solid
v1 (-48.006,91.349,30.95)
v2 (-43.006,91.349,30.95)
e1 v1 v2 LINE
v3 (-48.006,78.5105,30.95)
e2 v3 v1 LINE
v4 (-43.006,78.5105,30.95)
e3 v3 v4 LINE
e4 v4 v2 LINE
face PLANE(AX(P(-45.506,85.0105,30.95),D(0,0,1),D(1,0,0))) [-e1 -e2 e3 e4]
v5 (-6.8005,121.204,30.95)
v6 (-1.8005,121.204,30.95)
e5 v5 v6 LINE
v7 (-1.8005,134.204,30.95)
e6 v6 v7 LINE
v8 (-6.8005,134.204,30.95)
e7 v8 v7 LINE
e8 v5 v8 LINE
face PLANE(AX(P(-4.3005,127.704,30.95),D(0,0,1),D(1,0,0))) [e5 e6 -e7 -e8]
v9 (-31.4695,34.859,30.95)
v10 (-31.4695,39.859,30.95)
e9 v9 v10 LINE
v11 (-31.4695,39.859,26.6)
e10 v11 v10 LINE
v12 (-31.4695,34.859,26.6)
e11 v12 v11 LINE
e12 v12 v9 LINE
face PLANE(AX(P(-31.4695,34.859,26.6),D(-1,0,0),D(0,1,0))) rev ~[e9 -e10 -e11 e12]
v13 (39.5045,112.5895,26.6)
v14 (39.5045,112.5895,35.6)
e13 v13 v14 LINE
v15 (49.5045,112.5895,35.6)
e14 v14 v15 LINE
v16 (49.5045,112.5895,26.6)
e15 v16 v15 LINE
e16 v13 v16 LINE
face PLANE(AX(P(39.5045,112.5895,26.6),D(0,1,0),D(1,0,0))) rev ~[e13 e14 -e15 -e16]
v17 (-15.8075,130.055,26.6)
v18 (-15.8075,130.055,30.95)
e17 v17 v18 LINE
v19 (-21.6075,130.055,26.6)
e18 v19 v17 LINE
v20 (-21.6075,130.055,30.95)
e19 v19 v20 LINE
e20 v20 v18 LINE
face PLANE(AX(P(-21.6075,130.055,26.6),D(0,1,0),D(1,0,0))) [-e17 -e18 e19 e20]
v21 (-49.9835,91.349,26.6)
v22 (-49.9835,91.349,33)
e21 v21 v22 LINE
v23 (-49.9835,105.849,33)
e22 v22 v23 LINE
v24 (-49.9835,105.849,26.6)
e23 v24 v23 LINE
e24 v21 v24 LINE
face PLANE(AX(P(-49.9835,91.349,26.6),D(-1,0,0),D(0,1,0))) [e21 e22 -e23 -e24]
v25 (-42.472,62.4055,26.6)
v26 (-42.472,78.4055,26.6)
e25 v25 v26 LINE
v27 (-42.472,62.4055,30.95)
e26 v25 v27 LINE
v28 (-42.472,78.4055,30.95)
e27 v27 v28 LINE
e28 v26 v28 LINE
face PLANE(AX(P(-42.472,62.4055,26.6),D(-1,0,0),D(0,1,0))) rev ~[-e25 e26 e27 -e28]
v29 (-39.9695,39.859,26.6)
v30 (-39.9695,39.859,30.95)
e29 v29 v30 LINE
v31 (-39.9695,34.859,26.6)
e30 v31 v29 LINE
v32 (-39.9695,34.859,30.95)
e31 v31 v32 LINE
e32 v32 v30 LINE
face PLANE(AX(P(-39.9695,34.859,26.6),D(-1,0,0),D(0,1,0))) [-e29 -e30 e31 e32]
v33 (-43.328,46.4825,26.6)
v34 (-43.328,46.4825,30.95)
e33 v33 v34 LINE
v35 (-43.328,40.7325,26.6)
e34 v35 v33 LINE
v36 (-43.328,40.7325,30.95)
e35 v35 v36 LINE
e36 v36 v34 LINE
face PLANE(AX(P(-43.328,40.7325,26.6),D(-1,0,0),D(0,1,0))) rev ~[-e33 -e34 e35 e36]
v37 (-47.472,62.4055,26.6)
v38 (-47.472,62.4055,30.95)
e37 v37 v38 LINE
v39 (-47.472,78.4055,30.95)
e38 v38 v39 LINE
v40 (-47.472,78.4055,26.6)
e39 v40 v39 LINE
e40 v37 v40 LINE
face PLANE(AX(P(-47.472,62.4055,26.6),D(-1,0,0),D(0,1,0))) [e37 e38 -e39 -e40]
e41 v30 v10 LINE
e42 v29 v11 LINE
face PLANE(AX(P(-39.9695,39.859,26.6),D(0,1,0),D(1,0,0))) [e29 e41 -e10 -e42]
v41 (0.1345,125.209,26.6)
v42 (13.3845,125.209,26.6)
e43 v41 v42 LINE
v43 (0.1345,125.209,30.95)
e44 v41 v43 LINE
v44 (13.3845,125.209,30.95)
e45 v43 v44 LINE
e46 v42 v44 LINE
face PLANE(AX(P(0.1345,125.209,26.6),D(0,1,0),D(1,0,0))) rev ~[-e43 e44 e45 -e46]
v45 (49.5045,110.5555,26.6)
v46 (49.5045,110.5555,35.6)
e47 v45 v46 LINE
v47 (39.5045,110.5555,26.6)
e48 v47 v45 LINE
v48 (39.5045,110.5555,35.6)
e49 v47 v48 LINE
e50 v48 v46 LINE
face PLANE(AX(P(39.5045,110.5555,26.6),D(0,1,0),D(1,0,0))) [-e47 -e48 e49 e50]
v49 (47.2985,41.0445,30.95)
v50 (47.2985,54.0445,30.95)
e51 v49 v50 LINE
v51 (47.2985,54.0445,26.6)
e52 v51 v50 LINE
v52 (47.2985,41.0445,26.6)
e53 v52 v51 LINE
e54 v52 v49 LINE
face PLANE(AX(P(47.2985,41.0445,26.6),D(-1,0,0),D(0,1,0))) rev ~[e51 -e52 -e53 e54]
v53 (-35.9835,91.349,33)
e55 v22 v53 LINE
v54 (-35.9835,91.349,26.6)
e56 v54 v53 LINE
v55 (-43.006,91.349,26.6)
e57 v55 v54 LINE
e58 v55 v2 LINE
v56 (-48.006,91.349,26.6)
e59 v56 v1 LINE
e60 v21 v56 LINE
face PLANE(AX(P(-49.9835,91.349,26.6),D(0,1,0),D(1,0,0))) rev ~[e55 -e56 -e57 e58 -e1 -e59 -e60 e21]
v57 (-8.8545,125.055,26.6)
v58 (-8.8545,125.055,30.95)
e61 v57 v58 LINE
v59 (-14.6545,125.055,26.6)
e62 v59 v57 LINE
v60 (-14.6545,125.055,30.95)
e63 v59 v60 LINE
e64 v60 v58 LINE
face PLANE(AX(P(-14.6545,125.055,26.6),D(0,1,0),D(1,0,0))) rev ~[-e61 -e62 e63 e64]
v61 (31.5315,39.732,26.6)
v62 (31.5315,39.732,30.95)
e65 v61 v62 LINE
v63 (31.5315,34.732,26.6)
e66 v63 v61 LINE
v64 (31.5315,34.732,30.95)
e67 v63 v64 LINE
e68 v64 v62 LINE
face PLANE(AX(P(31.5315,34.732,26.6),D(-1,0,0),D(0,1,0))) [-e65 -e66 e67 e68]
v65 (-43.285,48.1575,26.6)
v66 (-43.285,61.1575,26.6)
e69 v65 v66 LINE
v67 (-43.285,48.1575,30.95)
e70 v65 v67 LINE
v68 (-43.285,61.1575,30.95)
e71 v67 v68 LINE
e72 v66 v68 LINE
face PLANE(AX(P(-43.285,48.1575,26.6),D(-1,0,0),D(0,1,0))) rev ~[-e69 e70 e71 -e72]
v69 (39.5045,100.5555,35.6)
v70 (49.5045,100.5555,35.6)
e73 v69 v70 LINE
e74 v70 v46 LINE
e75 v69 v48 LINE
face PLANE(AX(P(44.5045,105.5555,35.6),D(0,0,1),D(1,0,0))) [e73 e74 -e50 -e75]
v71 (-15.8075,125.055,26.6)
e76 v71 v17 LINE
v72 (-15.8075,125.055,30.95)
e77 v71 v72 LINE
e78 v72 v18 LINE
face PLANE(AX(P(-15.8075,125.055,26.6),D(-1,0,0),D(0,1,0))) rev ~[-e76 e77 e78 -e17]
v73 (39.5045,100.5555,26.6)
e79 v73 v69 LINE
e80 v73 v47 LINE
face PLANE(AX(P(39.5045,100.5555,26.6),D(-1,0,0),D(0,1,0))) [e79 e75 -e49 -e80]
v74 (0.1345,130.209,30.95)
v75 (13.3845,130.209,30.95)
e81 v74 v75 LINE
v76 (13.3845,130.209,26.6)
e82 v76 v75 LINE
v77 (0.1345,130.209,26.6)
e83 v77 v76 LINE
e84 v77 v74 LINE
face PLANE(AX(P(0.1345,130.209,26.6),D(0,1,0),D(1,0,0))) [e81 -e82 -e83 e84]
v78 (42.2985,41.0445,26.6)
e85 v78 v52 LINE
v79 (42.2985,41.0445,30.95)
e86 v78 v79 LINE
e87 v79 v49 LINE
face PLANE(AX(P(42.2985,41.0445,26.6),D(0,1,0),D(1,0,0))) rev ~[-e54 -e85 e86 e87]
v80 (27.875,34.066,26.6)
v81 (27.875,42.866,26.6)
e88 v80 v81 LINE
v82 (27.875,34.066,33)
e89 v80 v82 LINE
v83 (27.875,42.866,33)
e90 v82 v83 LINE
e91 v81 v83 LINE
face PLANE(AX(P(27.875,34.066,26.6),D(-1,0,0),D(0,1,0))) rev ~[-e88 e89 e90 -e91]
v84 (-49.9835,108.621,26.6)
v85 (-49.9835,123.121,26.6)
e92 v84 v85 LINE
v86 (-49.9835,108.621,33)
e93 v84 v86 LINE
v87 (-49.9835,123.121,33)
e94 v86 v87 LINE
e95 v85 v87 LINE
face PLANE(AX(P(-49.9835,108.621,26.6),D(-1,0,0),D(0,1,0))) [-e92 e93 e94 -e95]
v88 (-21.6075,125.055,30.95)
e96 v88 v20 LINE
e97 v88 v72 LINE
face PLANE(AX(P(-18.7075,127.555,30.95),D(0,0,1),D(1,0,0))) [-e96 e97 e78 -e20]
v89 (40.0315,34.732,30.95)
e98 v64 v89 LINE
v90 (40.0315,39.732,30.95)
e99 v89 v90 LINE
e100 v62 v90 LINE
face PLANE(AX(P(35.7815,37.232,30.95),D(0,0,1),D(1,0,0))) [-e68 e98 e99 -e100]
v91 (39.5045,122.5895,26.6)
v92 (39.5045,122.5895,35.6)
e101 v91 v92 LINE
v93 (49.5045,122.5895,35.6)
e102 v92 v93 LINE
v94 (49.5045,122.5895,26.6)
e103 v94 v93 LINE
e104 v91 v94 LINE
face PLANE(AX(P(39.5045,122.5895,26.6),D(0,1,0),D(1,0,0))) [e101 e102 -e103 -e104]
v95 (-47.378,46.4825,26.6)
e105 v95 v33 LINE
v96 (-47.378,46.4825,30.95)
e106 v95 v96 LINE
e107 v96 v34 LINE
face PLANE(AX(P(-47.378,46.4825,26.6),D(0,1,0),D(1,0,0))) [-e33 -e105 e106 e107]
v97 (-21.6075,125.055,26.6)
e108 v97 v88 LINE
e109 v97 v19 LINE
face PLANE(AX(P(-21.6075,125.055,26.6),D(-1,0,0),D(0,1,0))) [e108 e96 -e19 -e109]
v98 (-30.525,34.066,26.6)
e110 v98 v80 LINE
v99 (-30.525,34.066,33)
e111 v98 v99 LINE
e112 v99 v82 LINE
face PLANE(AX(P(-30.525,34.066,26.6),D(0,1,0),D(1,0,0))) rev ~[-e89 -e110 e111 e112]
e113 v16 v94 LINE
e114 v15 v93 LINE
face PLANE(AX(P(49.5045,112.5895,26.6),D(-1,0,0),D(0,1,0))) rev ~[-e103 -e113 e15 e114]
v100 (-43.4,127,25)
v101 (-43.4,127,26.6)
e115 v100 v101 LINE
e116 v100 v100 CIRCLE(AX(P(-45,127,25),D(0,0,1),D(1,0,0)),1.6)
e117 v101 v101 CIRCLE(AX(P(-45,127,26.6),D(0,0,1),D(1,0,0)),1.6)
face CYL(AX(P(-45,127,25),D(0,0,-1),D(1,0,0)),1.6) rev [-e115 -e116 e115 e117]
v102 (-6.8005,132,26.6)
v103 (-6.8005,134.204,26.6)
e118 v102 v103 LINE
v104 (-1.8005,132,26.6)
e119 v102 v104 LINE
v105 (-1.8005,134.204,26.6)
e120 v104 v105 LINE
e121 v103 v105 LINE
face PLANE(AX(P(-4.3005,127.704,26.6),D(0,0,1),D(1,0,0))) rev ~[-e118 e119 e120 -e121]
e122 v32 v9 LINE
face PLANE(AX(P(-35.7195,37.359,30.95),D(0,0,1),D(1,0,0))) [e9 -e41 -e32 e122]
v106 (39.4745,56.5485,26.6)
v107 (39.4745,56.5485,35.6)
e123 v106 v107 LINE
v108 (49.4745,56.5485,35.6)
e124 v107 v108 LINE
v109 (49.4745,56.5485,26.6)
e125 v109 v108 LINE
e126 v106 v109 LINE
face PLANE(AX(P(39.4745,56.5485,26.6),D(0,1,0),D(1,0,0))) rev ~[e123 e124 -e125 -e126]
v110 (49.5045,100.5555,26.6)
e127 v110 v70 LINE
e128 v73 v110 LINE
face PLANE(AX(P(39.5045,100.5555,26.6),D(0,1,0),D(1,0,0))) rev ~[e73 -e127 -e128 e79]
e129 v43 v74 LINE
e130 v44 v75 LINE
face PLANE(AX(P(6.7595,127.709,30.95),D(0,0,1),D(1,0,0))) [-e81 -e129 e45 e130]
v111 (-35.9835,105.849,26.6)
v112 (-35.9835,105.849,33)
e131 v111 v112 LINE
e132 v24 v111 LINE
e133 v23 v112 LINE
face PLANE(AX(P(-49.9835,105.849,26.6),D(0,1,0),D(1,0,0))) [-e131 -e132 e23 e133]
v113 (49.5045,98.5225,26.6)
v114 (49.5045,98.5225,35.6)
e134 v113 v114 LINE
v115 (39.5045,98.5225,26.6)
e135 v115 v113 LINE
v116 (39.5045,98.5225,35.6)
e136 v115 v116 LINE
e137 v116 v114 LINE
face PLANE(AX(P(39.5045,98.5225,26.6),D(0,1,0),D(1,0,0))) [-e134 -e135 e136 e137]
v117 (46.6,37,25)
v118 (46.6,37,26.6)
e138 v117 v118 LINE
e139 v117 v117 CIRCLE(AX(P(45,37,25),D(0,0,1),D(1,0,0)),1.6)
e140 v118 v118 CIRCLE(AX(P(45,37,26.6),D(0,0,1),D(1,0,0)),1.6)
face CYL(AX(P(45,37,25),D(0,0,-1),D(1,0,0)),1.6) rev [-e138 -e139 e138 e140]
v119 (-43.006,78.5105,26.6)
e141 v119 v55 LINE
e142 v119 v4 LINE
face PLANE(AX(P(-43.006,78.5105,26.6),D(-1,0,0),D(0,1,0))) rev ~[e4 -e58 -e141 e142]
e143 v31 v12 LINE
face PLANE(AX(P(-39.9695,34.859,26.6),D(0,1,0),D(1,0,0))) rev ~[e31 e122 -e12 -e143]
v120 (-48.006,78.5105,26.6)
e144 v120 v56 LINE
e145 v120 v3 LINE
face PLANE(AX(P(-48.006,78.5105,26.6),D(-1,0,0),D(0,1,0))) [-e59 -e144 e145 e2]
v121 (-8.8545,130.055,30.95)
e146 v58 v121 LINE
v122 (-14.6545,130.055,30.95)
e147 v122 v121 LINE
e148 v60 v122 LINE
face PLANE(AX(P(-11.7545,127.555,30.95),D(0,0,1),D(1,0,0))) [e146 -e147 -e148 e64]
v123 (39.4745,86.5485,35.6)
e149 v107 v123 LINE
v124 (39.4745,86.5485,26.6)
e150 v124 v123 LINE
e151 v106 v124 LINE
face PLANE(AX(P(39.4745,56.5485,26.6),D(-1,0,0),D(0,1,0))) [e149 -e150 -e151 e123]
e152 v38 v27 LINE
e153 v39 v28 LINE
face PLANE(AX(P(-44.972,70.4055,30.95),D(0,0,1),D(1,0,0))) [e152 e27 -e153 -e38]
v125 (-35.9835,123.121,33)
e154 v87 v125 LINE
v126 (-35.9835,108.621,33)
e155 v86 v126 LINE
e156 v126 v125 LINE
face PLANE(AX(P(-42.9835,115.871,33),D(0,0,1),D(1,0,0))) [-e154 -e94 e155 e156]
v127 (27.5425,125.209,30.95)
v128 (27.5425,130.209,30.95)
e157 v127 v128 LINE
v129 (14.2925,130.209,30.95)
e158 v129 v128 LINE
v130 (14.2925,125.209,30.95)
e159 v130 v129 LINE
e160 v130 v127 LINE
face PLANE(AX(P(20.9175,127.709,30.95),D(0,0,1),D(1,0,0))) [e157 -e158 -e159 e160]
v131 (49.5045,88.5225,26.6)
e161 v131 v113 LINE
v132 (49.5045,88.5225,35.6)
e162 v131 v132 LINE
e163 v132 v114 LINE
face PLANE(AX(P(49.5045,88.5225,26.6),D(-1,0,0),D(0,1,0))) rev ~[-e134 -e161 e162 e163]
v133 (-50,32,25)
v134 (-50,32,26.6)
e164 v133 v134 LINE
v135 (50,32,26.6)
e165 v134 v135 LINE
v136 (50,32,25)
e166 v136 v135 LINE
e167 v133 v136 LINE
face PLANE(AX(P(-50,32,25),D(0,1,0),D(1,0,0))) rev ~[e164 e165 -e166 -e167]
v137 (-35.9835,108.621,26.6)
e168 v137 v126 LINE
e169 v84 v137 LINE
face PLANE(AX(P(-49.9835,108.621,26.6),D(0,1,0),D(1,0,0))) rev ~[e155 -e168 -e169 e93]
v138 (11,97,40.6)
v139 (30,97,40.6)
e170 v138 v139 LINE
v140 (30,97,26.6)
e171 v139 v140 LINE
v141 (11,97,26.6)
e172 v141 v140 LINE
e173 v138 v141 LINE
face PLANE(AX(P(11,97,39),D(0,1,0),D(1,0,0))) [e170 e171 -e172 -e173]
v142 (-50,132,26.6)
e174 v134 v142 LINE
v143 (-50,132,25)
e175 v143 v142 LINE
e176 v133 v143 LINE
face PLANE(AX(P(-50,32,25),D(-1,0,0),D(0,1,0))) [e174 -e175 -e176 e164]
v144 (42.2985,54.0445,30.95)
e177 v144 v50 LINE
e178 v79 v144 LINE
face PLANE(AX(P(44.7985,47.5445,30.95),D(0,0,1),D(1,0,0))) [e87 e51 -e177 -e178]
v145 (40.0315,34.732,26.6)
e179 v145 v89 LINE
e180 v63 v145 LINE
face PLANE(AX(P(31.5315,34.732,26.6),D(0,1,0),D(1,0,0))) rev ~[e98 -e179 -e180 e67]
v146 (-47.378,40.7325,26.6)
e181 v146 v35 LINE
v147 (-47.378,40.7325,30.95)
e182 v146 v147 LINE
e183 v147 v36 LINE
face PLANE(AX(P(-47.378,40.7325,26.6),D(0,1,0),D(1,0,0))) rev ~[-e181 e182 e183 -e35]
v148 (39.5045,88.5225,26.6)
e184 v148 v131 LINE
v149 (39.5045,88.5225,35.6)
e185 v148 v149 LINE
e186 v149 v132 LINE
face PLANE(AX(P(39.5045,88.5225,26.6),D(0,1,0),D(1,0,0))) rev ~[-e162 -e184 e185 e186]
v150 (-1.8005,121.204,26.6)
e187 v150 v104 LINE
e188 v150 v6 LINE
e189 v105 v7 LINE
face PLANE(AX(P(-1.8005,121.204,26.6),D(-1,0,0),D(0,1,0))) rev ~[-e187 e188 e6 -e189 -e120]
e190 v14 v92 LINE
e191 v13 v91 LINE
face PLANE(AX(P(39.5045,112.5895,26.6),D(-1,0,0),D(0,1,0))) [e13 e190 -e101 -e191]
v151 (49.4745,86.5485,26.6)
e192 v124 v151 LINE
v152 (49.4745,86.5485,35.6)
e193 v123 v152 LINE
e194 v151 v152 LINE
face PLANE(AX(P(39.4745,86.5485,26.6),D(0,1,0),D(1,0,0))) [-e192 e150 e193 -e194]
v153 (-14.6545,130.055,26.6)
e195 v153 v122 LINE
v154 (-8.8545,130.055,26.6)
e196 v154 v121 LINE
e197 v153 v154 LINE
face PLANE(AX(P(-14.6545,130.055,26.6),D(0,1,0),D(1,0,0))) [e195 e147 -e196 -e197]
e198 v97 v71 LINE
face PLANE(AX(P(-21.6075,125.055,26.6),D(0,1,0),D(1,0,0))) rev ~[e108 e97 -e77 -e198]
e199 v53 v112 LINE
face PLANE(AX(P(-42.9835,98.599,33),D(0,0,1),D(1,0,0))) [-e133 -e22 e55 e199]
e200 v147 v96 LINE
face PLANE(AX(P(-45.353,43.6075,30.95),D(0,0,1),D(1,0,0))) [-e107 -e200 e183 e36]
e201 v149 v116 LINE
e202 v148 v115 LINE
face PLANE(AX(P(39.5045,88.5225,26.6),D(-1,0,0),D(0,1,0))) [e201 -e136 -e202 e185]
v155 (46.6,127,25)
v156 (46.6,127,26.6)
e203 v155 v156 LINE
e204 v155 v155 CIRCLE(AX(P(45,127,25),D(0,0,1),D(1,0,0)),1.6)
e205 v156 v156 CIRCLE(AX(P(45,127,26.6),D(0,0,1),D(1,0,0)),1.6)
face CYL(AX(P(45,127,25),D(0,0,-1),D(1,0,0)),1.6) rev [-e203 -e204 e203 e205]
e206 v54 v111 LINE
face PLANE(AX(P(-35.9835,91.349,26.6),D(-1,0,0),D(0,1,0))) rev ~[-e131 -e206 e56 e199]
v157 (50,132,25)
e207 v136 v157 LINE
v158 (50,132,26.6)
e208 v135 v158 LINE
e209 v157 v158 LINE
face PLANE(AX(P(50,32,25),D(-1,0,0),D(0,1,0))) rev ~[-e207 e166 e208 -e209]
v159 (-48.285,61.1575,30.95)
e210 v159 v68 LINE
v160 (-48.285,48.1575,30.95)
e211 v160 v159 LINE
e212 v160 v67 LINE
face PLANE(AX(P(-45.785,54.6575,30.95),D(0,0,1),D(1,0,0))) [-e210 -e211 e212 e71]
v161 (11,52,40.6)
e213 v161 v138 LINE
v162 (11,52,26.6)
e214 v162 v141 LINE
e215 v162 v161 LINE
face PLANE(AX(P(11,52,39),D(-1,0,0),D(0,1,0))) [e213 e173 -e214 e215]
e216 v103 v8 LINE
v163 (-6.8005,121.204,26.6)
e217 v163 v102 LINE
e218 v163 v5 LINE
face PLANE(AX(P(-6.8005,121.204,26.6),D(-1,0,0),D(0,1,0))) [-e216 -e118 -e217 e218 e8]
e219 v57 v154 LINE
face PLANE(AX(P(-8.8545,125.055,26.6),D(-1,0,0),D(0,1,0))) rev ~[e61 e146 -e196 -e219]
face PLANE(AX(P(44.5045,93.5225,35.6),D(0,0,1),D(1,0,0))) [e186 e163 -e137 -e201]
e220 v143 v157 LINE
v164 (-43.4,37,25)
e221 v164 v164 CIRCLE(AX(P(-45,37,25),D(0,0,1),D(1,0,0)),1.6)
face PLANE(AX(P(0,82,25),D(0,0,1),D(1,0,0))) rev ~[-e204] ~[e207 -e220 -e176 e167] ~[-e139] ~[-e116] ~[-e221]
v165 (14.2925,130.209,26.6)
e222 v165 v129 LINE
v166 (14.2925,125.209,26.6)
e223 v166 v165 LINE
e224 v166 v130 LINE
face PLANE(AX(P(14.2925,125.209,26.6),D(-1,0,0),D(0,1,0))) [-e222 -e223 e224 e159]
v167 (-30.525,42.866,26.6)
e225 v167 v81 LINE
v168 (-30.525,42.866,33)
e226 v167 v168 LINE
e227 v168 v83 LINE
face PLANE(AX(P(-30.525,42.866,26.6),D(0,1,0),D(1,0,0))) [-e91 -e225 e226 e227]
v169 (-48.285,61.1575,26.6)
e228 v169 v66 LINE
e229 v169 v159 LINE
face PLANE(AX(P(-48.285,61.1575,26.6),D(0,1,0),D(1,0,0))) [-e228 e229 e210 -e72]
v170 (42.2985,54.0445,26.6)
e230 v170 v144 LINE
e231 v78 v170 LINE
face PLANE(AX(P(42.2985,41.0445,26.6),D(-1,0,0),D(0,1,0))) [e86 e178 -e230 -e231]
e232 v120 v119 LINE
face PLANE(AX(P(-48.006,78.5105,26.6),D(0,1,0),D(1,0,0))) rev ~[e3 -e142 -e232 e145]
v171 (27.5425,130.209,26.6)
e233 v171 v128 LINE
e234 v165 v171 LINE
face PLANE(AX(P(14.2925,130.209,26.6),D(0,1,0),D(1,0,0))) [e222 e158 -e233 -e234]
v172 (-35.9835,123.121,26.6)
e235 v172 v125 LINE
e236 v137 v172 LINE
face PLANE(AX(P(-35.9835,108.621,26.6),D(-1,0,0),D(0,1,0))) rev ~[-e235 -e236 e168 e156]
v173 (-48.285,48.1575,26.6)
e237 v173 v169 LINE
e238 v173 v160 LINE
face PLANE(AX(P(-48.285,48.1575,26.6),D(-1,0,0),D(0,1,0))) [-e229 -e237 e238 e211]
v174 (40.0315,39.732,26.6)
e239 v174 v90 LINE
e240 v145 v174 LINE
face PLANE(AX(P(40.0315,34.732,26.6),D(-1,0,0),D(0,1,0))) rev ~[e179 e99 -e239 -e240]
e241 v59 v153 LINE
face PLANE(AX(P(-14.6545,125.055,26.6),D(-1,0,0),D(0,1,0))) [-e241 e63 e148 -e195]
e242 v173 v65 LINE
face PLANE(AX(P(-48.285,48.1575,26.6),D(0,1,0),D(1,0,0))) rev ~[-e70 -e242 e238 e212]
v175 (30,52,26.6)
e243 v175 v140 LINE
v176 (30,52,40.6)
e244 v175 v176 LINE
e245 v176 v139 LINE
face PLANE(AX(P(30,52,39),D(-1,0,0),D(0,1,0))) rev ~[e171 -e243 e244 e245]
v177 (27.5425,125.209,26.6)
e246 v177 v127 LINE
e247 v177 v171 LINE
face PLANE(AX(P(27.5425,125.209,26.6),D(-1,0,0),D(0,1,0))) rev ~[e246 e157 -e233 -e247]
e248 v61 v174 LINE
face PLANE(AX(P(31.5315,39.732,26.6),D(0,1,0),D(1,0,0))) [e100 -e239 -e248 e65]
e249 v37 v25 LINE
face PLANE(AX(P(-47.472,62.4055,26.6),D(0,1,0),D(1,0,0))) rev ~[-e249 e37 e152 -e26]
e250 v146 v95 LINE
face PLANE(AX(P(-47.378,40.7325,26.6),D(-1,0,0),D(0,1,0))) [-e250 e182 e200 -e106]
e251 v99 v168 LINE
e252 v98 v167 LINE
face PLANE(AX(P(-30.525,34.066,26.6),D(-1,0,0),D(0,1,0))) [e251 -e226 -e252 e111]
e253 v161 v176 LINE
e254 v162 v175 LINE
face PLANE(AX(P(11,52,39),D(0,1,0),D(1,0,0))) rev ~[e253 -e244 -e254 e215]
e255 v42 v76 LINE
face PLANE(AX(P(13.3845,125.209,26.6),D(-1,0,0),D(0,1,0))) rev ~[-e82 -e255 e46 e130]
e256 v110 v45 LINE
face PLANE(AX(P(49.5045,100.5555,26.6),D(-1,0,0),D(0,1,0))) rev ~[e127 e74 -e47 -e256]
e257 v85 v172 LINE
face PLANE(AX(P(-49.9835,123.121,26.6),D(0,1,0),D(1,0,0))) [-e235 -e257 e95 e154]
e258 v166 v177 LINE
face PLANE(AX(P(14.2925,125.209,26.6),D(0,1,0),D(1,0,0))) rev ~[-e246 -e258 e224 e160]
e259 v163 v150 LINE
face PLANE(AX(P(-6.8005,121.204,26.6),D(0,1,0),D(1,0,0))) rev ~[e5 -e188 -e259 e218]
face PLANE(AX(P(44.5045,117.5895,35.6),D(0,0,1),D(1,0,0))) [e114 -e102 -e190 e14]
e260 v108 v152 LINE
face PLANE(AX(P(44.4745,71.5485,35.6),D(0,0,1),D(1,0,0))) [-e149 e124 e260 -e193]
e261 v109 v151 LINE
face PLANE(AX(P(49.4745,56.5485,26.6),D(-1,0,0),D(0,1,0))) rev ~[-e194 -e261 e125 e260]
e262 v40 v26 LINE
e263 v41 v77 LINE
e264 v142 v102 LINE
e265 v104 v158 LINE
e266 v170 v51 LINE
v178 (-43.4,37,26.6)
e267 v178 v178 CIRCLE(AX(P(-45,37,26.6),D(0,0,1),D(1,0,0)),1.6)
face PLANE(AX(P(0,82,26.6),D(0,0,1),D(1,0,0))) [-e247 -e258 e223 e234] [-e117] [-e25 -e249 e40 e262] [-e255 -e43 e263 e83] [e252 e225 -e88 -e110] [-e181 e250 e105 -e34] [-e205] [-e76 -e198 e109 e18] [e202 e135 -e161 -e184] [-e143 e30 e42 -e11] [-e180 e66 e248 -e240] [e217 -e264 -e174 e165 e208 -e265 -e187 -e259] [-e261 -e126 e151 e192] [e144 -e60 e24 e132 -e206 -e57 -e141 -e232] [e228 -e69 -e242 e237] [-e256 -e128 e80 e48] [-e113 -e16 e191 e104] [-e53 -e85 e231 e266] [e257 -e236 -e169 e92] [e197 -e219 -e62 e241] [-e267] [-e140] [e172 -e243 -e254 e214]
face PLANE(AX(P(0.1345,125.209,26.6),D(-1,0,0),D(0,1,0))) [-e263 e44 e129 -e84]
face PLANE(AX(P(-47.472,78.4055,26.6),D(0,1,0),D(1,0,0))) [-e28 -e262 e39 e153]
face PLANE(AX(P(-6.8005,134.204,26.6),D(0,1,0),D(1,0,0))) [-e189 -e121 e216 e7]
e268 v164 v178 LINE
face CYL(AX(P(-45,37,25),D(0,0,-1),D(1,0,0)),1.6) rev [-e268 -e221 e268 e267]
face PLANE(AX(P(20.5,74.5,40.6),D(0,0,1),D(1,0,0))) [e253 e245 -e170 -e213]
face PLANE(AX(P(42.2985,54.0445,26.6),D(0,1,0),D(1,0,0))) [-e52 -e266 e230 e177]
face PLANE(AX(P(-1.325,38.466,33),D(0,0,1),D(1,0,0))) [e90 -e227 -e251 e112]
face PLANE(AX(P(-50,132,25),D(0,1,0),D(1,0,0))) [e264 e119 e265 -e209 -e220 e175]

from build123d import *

# Parameters (mm, degrees)
F_100X100_ROTATED_J101_REAR_J801_FRONT_START = 25
SKETCH_1_W                                   = 100
SKETCH_1_H                                   = 100
SKETCH_1_R                                   = 1.6
F_100X100_ROTATED_J101_REAR_J801_FRONT_DEPTH = 1.6
J102_CONNECTOR_ENVELOPE_ROTATED_START        = 26.6
SKETCH_2_W                                   = 10
SKETCH_2_H                                   = 10
J102_CONNECTOR_ENVELOPE_ROTATED_DEPTH        = 9
J201_CONNECTOR_ENVELOPE_ROTATED_START        = 26.6
SKETCH_3_W                                   = 14
SKETCH_3_H                                   = 14.5
J201_CONNECTOR_ENVELOPE_ROTATED_DEPTH        = 6.4
J501_CONNECTOR_ENVELOPE_ROTATED_START        = 26.6
SKETCH_4_W                                   = 14
SKETCH_4_H                                   = 14.5
J501_CONNECTOR_ENVELOPE_ROTATED_DEPTH        = 6.4
J301_CONNECTOR_ENVELOPE_ROTATED_START        = 26.6
SKETCH_5_W                                   = 10
SKETCH_5_H                                   = 10
J301_CONNECTOR_ENVELOPE_ROTATED_DEPTH        = 9
J304_CONNECTOR_ENVELOPE_ROTATED_START        = 26.6
SKETCH_6_W                                   = 10
SKETCH_6_H                                   = 10
J304_CONNECTOR_ENVELOPE_ROTATED_DEPTH        = 9
J302_CONNECTOR_ENVELOPE_ROTATED_START        = 26.6
SKETCH_7_W                                   = 10
SKETCH_7_H                                   = 30
J302_CONNECTOR_ENVELOPE_ROTATED_DEPTH        = 9
J305_CONNECTOR_ENVELOPE_ROTATED_START        = 26.6
SKETCH_8_W                                   = 5.8
SKETCH_8_H                                   = 5
J305_CONNECTOR_ENVELOPE_ROTATED_DEPTH        = 4.35
J306_CONNECTOR_ENVELOPE_ROTATED_START        = 26.6
SKETCH_9_W                                   = 5.8
SKETCH_9_H                                   = 5
J306_CONNECTOR_ENVELOPE_ROTATED_DEPTH        = 4.35
J401_CONNECTOR_ENVELOPE_ROTATED_START        = 26.6
SKETCH_10_W                                  = 5
SKETCH_10_H                                  = 13
J401_CONNECTOR_ENVELOPE_ROTATED_DEPTH        = 4.35
J502_CONNECTOR_ENVELOPE_ROTATED_START        = 26.6
SKETCH_11_W                                  = 5
SKETCH_11_H                                  = 16
J502_CONNECTOR_ENVELOPE_ROTATED_DEPTH        = 4.35
J602_CONNECTOR_ENVELOPE_ROTATED_START        = 26.6
SKETCH_13_W                                  = 5
SKETCH_13_H                                  = 13
J602_CONNECTOR_ENVELOPE_ROTATED_DEPTH        = 4.35
J701_CONNECTOR_ENVELOPE_ROTATED_START        = 26.6
SKETCH_14_W                                  = 5
SKETCH_14_H                                  = 13
J701_CONNECTOR_ENVELOPE_ROTATED_DEPTH        = 4.35
J702_CONNECTOR_ENVELOPE_ROTATED_START        = 26.6
SKETCH_15_W                                  = 13.25
SKETCH_15_H                                  = 5
J702_CONNECTOR_ENVELOPE_ROTATED_DEPTH        = 4.35
J703_CONNECTOR_ENVELOPE_ROTATED_START        = 26.6
SKETCH_16_W                                  = 13.25
SKETCH_16_H                                  = 5
J703_CONNECTOR_ENVELOPE_ROTATED_DEPTH        = 4.35
J704_CONNECTOR_ENVELOPE_ROTATED_START        = 26.6
SKETCH_17_W                                  = 8.5
SKETCH_17_H                                  = 5
J704_CONNECTOR_ENVELOPE_ROTATED_DEPTH        = 4.35
J705_CONNECTOR_ENVELOPE_ROTATED_START        = 26.6
SKETCH_18_W                                  = 5
SKETCH_18_H                                  = 13
J705_CONNECTOR_ENVELOPE_ROTATED_DEPTH        = 4.35
J706_CONNECTOR_ENVELOPE_ROTATED_START        = 26.6
SKETCH_19_W                                  = 8.5
SKETCH_19_H                                  = 5
J706_CONNECTOR_ENVELOPE_ROTATED_DEPTH        = 4.35
J801_CONNECTOR_ENVELOPE_ROTATED_START        = 26.6
SKETCH_20_W                                  = 58.4
SKETCH_20_H                                  = 8.8
J801_CONNECTOR_ENVELOPE_ROTATED_DEPTH        = 6.4
NANO_SOCKET_START                            = 26.6
SKETCH_21_W                                  = 19
SKETCH_21_H                                  = 45
NANO_SOCKET_DEPTH                            = 12.4
NANO_PCB_START                               = 39
SKETCH_22_W                                  = 19
SKETCH_22_H                                  = 45
NANO_PCB_DEPTH                               = 1.6
J601_GH2P_CORRECTED_BODY_REFERENCE_START     = 26.6
SKETCH_23_W                                  = 4.05
SKETCH_23_H                                  = 5.75
J601_GH2P_CORRECTED_BODY_REFERENCE_DEPTH     = 4.35


with BuildPart() as part:
    # 草图1 → 100x100_rotated_J101_rear_J801_front (new body)
    with BuildSketch(Plane.XY.offset(F_100X100_ROTATED_J101_REAR_J801_FRONT_START)):
        with Locations((0, 82)):
            Rectangle(SKETCH_1_W, SKETCH_1_H)
        with Locations((-45, 37)):
            Circle(SKETCH_1_R, mode=Mode.SUBTRACT)
        with Locations((45, 37)):
            Circle(SKETCH_1_R, mode=Mode.SUBTRACT)
        with Locations((45, 127)):
            Circle(SKETCH_1_R, mode=Mode.SUBTRACT)
        with Locations((-45, 127)):
            Circle(SKETCH_1_R, mode=Mode.SUBTRACT)
    extrude(amount=F_100X100_ROTATED_J101_REAR_J801_FRONT_DEPTH)

    # 草图2 → J102_connector_envelope_rotated (add)
    with BuildSketch(Plane.XY.offset(J102_CONNECTOR_ENVELOPE_ROTATED_START)):
        with Locations((44.5045, 117.5895)):
            Rectangle(SKETCH_2_W, SKETCH_2_H)
    extrude(amount=J102_CONNECTOR_ENVELOPE_ROTATED_DEPTH)

    # 草图3 → J201_connector_envelope_rotated (add)
    with BuildSketch(Plane.XY.offset(J201_CONNECTOR_ENVELOPE_ROTATED_START)):
        with Locations((-42.9835, 115.871)):
            Rectangle(SKETCH_3_W, SKETCH_3_H)
    extrude(amount=J201_CONNECTOR_ENVELOPE_ROTATED_DEPTH)

    # 草图4 → J501_connector_envelope_rotated (add)
    with BuildSketch(Plane.XY.offset(J501_CONNECTOR_ENVELOPE_ROTATED_START)):
        with Locations((-42.9835, 98.599)):
            Rectangle(SKETCH_4_W, SKETCH_4_H)
    extrude(amount=J501_CONNECTOR_ENVELOPE_ROTATED_DEPTH)

    # 草图5 → J301_connector_envelope_rotated (add)
    with BuildSketch(Plane.XY.offset(J301_CONNECTOR_ENVELOPE_ROTATED_START)):
        with Locations((44.5045, 93.5225)):
            Rectangle(SKETCH_5_W, SKETCH_5_H)
    extrude(amount=J301_CONNECTOR_ENVELOPE_ROTATED_DEPTH)

    # 草图6 → J304_connector_envelope_rotated (add)
    with BuildSketch(Plane.XY.offset(J304_CONNECTOR_ENVELOPE_ROTATED_START)):
        with Locations((44.5045, 105.5555)):
            Rectangle(SKETCH_6_W, SKETCH_6_H)
    extrude(amount=J304_CONNECTOR_ENVELOPE_ROTATED_DEPTH)

    # 草图7 → J302_connector_envelope_rotated (add)
    with BuildSketch(Plane.XY.offset(J302_CONNECTOR_ENVELOPE_ROTATED_START)):
        with Locations((44.4745, 71.5485)):
            Rectangle(SKETCH_7_W, SKETCH_7_H)
    extrude(amount=J302_CONNECTOR_ENVELOPE_ROTATED_DEPTH)

    # 草图8 → J305_connector_envelope_rotated (add)
    with BuildSketch(Plane.XY.offset(J305_CONNECTOR_ENVELOPE_ROTATED_START)):
        with Locations((-18.7075, 127.555)):
            Rectangle(SKETCH_8_W, SKETCH_8_H)
    extrude(amount=J305_CONNECTOR_ENVELOPE_ROTATED_DEPTH)

    # 草图9 → J306_connector_envelope_rotated (add)
    with BuildSketch(Plane.XY.offset(J306_CONNECTOR_ENVELOPE_ROTATED_START)):
        with Locations((-11.7545, 127.555)):
            Rectangle(SKETCH_9_W, SKETCH_9_H)
    extrude(amount=J306_CONNECTOR_ENVELOPE_ROTATED_DEPTH)

    # 草图10 → J401_connector_envelope_rotated (add)
    with BuildSketch(Plane.XY.offset(J401_CONNECTOR_ENVELOPE_ROTATED_START)):
        with Locations((44.7985, 47.5445)):
            Rectangle(SKETCH_10_W, SKETCH_10_H)
    extrude(amount=J401_CONNECTOR_ENVELOPE_ROTATED_DEPTH)

    # 草图11 → J502_connector_envelope_rotated (add)
    with BuildSketch(Plane.XY.offset(J502_CONNECTOR_ENVELOPE_ROTATED_START)):
        with Locations((-44.972, 70.4055)):
            Rectangle(SKETCH_11_W, SKETCH_11_H)
    extrude(amount=J502_CONNECTOR_ENVELOPE_ROTATED_DEPTH)

    # 草图13 → J602_connector_envelope_rotated (add)
    with BuildSketch(Plane.XY.offset(J602_CONNECTOR_ENVELOPE_ROTATED_START)):
        with Locations((-45.785, 54.6575)):
            Rectangle(SKETCH_13_W, SKETCH_13_H)
    extrude(amount=J602_CONNECTOR_ENVELOPE_ROTATED_DEPTH)

    # 草图14 → J701_connector_envelope_rotated (add)
    with BuildSketch(Plane.XY.offset(J701_CONNECTOR_ENVELOPE_ROTATED_START)):
        with Locations((-45.506, 85.0105)):
            Rectangle(SKETCH_14_W, SKETCH_14_H)
    extrude(amount=J701_CONNECTOR_ENVELOPE_ROTATED_DEPTH)

    # 草图15 → J702_connector_envelope_rotated (add)
    with BuildSketch(Plane.XY.offset(J702_CONNECTOR_ENVELOPE_ROTATED_START)):
        with Locations((6.7595, 127.709)):
            Rectangle(SKETCH_15_W, SKETCH_15_H)
    extrude(amount=J702_CONNECTOR_ENVELOPE_ROTATED_DEPTH)

    # 草图16 → J703_connector_envelope_rotated (add)
    with BuildSketch(Plane.XY.offset(J703_CONNECTOR_ENVELOPE_ROTATED_START)):
        with Locations((20.9175, 127.709)):
            Rectangle(SKETCH_16_W, SKETCH_16_H)
    extrude(amount=J703_CONNECTOR_ENVELOPE_ROTATED_DEPTH)

    # 草图17 → J704_connector_envelope_rotated (add)
    with BuildSketch(Plane.XY.offset(J704_CONNECTOR_ENVELOPE_ROTATED_START)):
        with Locations((-35.7195, 37.359)):
            Rectangle(SKETCH_17_W, SKETCH_17_H)
    extrude(amount=J704_CONNECTOR_ENVELOPE_ROTATED_DEPTH)

    # 草图18 → J705_connector_envelope_rotated (add)
    with BuildSketch(Plane.XY.offset(J705_CONNECTOR_ENVELOPE_ROTATED_START)):
        with Locations((-4.3005, 127.704)):
            Rectangle(SKETCH_18_W, SKETCH_18_H)
    extrude(amount=J705_CONNECTOR_ENVELOPE_ROTATED_DEPTH)

    # 草图19 → J706_connector_envelope_rotated (add)
    with BuildSketch(Plane.XY.offset(J706_CONNECTOR_ENVELOPE_ROTATED_START)):
        with Locations((35.7815, 37.232)):
            Rectangle(SKETCH_19_W, SKETCH_19_H)
    extrude(amount=J706_CONNECTOR_ENVELOPE_ROTATED_DEPTH)

    # 草图20 → J801_connector_envelope_rotated (add)
    with BuildSketch(Plane.XY.offset(J801_CONNECTOR_ENVELOPE_ROTATED_START)):
        with Locations((-1.325, 38.466)):
            Rectangle(SKETCH_20_W, SKETCH_20_H)
    extrude(amount=J801_CONNECTOR_ENVELOPE_ROTATED_DEPTH)

    # 草图21 → Nano_socket (add)
    with BuildSketch(Plane.XY.offset(NANO_SOCKET_START)):
        with Locations((20.5, 74.5)):
            Rectangle(SKETCH_21_W, SKETCH_21_H)
    extrude(amount=NANO_SOCKET_DEPTH)

    # 草图22 → Nano_PCB (add)
    with BuildSketch(Plane.XY.offset(NANO_PCB_START)):
        with Locations((20.5, 74.5)):
            Rectangle(SKETCH_22_W, SKETCH_22_H)
    extrude(amount=NANO_PCB_DEPTH)

    # 草图23 → J601_GH2P_corrected_body_reference (add)
    with BuildSketch(Plane.XY.offset(J601_GH2P_CORRECTED_BODY_REFERENCE_START)):
        with Locations((-45.353, 43.6075)):
            Rectangle(SKETCH_23_W, SKETCH_23_H)
    extrude(amount=J601_GH2P_CORRECTED_BODY_REFERENCE_DEPTH)


solid = part.part
